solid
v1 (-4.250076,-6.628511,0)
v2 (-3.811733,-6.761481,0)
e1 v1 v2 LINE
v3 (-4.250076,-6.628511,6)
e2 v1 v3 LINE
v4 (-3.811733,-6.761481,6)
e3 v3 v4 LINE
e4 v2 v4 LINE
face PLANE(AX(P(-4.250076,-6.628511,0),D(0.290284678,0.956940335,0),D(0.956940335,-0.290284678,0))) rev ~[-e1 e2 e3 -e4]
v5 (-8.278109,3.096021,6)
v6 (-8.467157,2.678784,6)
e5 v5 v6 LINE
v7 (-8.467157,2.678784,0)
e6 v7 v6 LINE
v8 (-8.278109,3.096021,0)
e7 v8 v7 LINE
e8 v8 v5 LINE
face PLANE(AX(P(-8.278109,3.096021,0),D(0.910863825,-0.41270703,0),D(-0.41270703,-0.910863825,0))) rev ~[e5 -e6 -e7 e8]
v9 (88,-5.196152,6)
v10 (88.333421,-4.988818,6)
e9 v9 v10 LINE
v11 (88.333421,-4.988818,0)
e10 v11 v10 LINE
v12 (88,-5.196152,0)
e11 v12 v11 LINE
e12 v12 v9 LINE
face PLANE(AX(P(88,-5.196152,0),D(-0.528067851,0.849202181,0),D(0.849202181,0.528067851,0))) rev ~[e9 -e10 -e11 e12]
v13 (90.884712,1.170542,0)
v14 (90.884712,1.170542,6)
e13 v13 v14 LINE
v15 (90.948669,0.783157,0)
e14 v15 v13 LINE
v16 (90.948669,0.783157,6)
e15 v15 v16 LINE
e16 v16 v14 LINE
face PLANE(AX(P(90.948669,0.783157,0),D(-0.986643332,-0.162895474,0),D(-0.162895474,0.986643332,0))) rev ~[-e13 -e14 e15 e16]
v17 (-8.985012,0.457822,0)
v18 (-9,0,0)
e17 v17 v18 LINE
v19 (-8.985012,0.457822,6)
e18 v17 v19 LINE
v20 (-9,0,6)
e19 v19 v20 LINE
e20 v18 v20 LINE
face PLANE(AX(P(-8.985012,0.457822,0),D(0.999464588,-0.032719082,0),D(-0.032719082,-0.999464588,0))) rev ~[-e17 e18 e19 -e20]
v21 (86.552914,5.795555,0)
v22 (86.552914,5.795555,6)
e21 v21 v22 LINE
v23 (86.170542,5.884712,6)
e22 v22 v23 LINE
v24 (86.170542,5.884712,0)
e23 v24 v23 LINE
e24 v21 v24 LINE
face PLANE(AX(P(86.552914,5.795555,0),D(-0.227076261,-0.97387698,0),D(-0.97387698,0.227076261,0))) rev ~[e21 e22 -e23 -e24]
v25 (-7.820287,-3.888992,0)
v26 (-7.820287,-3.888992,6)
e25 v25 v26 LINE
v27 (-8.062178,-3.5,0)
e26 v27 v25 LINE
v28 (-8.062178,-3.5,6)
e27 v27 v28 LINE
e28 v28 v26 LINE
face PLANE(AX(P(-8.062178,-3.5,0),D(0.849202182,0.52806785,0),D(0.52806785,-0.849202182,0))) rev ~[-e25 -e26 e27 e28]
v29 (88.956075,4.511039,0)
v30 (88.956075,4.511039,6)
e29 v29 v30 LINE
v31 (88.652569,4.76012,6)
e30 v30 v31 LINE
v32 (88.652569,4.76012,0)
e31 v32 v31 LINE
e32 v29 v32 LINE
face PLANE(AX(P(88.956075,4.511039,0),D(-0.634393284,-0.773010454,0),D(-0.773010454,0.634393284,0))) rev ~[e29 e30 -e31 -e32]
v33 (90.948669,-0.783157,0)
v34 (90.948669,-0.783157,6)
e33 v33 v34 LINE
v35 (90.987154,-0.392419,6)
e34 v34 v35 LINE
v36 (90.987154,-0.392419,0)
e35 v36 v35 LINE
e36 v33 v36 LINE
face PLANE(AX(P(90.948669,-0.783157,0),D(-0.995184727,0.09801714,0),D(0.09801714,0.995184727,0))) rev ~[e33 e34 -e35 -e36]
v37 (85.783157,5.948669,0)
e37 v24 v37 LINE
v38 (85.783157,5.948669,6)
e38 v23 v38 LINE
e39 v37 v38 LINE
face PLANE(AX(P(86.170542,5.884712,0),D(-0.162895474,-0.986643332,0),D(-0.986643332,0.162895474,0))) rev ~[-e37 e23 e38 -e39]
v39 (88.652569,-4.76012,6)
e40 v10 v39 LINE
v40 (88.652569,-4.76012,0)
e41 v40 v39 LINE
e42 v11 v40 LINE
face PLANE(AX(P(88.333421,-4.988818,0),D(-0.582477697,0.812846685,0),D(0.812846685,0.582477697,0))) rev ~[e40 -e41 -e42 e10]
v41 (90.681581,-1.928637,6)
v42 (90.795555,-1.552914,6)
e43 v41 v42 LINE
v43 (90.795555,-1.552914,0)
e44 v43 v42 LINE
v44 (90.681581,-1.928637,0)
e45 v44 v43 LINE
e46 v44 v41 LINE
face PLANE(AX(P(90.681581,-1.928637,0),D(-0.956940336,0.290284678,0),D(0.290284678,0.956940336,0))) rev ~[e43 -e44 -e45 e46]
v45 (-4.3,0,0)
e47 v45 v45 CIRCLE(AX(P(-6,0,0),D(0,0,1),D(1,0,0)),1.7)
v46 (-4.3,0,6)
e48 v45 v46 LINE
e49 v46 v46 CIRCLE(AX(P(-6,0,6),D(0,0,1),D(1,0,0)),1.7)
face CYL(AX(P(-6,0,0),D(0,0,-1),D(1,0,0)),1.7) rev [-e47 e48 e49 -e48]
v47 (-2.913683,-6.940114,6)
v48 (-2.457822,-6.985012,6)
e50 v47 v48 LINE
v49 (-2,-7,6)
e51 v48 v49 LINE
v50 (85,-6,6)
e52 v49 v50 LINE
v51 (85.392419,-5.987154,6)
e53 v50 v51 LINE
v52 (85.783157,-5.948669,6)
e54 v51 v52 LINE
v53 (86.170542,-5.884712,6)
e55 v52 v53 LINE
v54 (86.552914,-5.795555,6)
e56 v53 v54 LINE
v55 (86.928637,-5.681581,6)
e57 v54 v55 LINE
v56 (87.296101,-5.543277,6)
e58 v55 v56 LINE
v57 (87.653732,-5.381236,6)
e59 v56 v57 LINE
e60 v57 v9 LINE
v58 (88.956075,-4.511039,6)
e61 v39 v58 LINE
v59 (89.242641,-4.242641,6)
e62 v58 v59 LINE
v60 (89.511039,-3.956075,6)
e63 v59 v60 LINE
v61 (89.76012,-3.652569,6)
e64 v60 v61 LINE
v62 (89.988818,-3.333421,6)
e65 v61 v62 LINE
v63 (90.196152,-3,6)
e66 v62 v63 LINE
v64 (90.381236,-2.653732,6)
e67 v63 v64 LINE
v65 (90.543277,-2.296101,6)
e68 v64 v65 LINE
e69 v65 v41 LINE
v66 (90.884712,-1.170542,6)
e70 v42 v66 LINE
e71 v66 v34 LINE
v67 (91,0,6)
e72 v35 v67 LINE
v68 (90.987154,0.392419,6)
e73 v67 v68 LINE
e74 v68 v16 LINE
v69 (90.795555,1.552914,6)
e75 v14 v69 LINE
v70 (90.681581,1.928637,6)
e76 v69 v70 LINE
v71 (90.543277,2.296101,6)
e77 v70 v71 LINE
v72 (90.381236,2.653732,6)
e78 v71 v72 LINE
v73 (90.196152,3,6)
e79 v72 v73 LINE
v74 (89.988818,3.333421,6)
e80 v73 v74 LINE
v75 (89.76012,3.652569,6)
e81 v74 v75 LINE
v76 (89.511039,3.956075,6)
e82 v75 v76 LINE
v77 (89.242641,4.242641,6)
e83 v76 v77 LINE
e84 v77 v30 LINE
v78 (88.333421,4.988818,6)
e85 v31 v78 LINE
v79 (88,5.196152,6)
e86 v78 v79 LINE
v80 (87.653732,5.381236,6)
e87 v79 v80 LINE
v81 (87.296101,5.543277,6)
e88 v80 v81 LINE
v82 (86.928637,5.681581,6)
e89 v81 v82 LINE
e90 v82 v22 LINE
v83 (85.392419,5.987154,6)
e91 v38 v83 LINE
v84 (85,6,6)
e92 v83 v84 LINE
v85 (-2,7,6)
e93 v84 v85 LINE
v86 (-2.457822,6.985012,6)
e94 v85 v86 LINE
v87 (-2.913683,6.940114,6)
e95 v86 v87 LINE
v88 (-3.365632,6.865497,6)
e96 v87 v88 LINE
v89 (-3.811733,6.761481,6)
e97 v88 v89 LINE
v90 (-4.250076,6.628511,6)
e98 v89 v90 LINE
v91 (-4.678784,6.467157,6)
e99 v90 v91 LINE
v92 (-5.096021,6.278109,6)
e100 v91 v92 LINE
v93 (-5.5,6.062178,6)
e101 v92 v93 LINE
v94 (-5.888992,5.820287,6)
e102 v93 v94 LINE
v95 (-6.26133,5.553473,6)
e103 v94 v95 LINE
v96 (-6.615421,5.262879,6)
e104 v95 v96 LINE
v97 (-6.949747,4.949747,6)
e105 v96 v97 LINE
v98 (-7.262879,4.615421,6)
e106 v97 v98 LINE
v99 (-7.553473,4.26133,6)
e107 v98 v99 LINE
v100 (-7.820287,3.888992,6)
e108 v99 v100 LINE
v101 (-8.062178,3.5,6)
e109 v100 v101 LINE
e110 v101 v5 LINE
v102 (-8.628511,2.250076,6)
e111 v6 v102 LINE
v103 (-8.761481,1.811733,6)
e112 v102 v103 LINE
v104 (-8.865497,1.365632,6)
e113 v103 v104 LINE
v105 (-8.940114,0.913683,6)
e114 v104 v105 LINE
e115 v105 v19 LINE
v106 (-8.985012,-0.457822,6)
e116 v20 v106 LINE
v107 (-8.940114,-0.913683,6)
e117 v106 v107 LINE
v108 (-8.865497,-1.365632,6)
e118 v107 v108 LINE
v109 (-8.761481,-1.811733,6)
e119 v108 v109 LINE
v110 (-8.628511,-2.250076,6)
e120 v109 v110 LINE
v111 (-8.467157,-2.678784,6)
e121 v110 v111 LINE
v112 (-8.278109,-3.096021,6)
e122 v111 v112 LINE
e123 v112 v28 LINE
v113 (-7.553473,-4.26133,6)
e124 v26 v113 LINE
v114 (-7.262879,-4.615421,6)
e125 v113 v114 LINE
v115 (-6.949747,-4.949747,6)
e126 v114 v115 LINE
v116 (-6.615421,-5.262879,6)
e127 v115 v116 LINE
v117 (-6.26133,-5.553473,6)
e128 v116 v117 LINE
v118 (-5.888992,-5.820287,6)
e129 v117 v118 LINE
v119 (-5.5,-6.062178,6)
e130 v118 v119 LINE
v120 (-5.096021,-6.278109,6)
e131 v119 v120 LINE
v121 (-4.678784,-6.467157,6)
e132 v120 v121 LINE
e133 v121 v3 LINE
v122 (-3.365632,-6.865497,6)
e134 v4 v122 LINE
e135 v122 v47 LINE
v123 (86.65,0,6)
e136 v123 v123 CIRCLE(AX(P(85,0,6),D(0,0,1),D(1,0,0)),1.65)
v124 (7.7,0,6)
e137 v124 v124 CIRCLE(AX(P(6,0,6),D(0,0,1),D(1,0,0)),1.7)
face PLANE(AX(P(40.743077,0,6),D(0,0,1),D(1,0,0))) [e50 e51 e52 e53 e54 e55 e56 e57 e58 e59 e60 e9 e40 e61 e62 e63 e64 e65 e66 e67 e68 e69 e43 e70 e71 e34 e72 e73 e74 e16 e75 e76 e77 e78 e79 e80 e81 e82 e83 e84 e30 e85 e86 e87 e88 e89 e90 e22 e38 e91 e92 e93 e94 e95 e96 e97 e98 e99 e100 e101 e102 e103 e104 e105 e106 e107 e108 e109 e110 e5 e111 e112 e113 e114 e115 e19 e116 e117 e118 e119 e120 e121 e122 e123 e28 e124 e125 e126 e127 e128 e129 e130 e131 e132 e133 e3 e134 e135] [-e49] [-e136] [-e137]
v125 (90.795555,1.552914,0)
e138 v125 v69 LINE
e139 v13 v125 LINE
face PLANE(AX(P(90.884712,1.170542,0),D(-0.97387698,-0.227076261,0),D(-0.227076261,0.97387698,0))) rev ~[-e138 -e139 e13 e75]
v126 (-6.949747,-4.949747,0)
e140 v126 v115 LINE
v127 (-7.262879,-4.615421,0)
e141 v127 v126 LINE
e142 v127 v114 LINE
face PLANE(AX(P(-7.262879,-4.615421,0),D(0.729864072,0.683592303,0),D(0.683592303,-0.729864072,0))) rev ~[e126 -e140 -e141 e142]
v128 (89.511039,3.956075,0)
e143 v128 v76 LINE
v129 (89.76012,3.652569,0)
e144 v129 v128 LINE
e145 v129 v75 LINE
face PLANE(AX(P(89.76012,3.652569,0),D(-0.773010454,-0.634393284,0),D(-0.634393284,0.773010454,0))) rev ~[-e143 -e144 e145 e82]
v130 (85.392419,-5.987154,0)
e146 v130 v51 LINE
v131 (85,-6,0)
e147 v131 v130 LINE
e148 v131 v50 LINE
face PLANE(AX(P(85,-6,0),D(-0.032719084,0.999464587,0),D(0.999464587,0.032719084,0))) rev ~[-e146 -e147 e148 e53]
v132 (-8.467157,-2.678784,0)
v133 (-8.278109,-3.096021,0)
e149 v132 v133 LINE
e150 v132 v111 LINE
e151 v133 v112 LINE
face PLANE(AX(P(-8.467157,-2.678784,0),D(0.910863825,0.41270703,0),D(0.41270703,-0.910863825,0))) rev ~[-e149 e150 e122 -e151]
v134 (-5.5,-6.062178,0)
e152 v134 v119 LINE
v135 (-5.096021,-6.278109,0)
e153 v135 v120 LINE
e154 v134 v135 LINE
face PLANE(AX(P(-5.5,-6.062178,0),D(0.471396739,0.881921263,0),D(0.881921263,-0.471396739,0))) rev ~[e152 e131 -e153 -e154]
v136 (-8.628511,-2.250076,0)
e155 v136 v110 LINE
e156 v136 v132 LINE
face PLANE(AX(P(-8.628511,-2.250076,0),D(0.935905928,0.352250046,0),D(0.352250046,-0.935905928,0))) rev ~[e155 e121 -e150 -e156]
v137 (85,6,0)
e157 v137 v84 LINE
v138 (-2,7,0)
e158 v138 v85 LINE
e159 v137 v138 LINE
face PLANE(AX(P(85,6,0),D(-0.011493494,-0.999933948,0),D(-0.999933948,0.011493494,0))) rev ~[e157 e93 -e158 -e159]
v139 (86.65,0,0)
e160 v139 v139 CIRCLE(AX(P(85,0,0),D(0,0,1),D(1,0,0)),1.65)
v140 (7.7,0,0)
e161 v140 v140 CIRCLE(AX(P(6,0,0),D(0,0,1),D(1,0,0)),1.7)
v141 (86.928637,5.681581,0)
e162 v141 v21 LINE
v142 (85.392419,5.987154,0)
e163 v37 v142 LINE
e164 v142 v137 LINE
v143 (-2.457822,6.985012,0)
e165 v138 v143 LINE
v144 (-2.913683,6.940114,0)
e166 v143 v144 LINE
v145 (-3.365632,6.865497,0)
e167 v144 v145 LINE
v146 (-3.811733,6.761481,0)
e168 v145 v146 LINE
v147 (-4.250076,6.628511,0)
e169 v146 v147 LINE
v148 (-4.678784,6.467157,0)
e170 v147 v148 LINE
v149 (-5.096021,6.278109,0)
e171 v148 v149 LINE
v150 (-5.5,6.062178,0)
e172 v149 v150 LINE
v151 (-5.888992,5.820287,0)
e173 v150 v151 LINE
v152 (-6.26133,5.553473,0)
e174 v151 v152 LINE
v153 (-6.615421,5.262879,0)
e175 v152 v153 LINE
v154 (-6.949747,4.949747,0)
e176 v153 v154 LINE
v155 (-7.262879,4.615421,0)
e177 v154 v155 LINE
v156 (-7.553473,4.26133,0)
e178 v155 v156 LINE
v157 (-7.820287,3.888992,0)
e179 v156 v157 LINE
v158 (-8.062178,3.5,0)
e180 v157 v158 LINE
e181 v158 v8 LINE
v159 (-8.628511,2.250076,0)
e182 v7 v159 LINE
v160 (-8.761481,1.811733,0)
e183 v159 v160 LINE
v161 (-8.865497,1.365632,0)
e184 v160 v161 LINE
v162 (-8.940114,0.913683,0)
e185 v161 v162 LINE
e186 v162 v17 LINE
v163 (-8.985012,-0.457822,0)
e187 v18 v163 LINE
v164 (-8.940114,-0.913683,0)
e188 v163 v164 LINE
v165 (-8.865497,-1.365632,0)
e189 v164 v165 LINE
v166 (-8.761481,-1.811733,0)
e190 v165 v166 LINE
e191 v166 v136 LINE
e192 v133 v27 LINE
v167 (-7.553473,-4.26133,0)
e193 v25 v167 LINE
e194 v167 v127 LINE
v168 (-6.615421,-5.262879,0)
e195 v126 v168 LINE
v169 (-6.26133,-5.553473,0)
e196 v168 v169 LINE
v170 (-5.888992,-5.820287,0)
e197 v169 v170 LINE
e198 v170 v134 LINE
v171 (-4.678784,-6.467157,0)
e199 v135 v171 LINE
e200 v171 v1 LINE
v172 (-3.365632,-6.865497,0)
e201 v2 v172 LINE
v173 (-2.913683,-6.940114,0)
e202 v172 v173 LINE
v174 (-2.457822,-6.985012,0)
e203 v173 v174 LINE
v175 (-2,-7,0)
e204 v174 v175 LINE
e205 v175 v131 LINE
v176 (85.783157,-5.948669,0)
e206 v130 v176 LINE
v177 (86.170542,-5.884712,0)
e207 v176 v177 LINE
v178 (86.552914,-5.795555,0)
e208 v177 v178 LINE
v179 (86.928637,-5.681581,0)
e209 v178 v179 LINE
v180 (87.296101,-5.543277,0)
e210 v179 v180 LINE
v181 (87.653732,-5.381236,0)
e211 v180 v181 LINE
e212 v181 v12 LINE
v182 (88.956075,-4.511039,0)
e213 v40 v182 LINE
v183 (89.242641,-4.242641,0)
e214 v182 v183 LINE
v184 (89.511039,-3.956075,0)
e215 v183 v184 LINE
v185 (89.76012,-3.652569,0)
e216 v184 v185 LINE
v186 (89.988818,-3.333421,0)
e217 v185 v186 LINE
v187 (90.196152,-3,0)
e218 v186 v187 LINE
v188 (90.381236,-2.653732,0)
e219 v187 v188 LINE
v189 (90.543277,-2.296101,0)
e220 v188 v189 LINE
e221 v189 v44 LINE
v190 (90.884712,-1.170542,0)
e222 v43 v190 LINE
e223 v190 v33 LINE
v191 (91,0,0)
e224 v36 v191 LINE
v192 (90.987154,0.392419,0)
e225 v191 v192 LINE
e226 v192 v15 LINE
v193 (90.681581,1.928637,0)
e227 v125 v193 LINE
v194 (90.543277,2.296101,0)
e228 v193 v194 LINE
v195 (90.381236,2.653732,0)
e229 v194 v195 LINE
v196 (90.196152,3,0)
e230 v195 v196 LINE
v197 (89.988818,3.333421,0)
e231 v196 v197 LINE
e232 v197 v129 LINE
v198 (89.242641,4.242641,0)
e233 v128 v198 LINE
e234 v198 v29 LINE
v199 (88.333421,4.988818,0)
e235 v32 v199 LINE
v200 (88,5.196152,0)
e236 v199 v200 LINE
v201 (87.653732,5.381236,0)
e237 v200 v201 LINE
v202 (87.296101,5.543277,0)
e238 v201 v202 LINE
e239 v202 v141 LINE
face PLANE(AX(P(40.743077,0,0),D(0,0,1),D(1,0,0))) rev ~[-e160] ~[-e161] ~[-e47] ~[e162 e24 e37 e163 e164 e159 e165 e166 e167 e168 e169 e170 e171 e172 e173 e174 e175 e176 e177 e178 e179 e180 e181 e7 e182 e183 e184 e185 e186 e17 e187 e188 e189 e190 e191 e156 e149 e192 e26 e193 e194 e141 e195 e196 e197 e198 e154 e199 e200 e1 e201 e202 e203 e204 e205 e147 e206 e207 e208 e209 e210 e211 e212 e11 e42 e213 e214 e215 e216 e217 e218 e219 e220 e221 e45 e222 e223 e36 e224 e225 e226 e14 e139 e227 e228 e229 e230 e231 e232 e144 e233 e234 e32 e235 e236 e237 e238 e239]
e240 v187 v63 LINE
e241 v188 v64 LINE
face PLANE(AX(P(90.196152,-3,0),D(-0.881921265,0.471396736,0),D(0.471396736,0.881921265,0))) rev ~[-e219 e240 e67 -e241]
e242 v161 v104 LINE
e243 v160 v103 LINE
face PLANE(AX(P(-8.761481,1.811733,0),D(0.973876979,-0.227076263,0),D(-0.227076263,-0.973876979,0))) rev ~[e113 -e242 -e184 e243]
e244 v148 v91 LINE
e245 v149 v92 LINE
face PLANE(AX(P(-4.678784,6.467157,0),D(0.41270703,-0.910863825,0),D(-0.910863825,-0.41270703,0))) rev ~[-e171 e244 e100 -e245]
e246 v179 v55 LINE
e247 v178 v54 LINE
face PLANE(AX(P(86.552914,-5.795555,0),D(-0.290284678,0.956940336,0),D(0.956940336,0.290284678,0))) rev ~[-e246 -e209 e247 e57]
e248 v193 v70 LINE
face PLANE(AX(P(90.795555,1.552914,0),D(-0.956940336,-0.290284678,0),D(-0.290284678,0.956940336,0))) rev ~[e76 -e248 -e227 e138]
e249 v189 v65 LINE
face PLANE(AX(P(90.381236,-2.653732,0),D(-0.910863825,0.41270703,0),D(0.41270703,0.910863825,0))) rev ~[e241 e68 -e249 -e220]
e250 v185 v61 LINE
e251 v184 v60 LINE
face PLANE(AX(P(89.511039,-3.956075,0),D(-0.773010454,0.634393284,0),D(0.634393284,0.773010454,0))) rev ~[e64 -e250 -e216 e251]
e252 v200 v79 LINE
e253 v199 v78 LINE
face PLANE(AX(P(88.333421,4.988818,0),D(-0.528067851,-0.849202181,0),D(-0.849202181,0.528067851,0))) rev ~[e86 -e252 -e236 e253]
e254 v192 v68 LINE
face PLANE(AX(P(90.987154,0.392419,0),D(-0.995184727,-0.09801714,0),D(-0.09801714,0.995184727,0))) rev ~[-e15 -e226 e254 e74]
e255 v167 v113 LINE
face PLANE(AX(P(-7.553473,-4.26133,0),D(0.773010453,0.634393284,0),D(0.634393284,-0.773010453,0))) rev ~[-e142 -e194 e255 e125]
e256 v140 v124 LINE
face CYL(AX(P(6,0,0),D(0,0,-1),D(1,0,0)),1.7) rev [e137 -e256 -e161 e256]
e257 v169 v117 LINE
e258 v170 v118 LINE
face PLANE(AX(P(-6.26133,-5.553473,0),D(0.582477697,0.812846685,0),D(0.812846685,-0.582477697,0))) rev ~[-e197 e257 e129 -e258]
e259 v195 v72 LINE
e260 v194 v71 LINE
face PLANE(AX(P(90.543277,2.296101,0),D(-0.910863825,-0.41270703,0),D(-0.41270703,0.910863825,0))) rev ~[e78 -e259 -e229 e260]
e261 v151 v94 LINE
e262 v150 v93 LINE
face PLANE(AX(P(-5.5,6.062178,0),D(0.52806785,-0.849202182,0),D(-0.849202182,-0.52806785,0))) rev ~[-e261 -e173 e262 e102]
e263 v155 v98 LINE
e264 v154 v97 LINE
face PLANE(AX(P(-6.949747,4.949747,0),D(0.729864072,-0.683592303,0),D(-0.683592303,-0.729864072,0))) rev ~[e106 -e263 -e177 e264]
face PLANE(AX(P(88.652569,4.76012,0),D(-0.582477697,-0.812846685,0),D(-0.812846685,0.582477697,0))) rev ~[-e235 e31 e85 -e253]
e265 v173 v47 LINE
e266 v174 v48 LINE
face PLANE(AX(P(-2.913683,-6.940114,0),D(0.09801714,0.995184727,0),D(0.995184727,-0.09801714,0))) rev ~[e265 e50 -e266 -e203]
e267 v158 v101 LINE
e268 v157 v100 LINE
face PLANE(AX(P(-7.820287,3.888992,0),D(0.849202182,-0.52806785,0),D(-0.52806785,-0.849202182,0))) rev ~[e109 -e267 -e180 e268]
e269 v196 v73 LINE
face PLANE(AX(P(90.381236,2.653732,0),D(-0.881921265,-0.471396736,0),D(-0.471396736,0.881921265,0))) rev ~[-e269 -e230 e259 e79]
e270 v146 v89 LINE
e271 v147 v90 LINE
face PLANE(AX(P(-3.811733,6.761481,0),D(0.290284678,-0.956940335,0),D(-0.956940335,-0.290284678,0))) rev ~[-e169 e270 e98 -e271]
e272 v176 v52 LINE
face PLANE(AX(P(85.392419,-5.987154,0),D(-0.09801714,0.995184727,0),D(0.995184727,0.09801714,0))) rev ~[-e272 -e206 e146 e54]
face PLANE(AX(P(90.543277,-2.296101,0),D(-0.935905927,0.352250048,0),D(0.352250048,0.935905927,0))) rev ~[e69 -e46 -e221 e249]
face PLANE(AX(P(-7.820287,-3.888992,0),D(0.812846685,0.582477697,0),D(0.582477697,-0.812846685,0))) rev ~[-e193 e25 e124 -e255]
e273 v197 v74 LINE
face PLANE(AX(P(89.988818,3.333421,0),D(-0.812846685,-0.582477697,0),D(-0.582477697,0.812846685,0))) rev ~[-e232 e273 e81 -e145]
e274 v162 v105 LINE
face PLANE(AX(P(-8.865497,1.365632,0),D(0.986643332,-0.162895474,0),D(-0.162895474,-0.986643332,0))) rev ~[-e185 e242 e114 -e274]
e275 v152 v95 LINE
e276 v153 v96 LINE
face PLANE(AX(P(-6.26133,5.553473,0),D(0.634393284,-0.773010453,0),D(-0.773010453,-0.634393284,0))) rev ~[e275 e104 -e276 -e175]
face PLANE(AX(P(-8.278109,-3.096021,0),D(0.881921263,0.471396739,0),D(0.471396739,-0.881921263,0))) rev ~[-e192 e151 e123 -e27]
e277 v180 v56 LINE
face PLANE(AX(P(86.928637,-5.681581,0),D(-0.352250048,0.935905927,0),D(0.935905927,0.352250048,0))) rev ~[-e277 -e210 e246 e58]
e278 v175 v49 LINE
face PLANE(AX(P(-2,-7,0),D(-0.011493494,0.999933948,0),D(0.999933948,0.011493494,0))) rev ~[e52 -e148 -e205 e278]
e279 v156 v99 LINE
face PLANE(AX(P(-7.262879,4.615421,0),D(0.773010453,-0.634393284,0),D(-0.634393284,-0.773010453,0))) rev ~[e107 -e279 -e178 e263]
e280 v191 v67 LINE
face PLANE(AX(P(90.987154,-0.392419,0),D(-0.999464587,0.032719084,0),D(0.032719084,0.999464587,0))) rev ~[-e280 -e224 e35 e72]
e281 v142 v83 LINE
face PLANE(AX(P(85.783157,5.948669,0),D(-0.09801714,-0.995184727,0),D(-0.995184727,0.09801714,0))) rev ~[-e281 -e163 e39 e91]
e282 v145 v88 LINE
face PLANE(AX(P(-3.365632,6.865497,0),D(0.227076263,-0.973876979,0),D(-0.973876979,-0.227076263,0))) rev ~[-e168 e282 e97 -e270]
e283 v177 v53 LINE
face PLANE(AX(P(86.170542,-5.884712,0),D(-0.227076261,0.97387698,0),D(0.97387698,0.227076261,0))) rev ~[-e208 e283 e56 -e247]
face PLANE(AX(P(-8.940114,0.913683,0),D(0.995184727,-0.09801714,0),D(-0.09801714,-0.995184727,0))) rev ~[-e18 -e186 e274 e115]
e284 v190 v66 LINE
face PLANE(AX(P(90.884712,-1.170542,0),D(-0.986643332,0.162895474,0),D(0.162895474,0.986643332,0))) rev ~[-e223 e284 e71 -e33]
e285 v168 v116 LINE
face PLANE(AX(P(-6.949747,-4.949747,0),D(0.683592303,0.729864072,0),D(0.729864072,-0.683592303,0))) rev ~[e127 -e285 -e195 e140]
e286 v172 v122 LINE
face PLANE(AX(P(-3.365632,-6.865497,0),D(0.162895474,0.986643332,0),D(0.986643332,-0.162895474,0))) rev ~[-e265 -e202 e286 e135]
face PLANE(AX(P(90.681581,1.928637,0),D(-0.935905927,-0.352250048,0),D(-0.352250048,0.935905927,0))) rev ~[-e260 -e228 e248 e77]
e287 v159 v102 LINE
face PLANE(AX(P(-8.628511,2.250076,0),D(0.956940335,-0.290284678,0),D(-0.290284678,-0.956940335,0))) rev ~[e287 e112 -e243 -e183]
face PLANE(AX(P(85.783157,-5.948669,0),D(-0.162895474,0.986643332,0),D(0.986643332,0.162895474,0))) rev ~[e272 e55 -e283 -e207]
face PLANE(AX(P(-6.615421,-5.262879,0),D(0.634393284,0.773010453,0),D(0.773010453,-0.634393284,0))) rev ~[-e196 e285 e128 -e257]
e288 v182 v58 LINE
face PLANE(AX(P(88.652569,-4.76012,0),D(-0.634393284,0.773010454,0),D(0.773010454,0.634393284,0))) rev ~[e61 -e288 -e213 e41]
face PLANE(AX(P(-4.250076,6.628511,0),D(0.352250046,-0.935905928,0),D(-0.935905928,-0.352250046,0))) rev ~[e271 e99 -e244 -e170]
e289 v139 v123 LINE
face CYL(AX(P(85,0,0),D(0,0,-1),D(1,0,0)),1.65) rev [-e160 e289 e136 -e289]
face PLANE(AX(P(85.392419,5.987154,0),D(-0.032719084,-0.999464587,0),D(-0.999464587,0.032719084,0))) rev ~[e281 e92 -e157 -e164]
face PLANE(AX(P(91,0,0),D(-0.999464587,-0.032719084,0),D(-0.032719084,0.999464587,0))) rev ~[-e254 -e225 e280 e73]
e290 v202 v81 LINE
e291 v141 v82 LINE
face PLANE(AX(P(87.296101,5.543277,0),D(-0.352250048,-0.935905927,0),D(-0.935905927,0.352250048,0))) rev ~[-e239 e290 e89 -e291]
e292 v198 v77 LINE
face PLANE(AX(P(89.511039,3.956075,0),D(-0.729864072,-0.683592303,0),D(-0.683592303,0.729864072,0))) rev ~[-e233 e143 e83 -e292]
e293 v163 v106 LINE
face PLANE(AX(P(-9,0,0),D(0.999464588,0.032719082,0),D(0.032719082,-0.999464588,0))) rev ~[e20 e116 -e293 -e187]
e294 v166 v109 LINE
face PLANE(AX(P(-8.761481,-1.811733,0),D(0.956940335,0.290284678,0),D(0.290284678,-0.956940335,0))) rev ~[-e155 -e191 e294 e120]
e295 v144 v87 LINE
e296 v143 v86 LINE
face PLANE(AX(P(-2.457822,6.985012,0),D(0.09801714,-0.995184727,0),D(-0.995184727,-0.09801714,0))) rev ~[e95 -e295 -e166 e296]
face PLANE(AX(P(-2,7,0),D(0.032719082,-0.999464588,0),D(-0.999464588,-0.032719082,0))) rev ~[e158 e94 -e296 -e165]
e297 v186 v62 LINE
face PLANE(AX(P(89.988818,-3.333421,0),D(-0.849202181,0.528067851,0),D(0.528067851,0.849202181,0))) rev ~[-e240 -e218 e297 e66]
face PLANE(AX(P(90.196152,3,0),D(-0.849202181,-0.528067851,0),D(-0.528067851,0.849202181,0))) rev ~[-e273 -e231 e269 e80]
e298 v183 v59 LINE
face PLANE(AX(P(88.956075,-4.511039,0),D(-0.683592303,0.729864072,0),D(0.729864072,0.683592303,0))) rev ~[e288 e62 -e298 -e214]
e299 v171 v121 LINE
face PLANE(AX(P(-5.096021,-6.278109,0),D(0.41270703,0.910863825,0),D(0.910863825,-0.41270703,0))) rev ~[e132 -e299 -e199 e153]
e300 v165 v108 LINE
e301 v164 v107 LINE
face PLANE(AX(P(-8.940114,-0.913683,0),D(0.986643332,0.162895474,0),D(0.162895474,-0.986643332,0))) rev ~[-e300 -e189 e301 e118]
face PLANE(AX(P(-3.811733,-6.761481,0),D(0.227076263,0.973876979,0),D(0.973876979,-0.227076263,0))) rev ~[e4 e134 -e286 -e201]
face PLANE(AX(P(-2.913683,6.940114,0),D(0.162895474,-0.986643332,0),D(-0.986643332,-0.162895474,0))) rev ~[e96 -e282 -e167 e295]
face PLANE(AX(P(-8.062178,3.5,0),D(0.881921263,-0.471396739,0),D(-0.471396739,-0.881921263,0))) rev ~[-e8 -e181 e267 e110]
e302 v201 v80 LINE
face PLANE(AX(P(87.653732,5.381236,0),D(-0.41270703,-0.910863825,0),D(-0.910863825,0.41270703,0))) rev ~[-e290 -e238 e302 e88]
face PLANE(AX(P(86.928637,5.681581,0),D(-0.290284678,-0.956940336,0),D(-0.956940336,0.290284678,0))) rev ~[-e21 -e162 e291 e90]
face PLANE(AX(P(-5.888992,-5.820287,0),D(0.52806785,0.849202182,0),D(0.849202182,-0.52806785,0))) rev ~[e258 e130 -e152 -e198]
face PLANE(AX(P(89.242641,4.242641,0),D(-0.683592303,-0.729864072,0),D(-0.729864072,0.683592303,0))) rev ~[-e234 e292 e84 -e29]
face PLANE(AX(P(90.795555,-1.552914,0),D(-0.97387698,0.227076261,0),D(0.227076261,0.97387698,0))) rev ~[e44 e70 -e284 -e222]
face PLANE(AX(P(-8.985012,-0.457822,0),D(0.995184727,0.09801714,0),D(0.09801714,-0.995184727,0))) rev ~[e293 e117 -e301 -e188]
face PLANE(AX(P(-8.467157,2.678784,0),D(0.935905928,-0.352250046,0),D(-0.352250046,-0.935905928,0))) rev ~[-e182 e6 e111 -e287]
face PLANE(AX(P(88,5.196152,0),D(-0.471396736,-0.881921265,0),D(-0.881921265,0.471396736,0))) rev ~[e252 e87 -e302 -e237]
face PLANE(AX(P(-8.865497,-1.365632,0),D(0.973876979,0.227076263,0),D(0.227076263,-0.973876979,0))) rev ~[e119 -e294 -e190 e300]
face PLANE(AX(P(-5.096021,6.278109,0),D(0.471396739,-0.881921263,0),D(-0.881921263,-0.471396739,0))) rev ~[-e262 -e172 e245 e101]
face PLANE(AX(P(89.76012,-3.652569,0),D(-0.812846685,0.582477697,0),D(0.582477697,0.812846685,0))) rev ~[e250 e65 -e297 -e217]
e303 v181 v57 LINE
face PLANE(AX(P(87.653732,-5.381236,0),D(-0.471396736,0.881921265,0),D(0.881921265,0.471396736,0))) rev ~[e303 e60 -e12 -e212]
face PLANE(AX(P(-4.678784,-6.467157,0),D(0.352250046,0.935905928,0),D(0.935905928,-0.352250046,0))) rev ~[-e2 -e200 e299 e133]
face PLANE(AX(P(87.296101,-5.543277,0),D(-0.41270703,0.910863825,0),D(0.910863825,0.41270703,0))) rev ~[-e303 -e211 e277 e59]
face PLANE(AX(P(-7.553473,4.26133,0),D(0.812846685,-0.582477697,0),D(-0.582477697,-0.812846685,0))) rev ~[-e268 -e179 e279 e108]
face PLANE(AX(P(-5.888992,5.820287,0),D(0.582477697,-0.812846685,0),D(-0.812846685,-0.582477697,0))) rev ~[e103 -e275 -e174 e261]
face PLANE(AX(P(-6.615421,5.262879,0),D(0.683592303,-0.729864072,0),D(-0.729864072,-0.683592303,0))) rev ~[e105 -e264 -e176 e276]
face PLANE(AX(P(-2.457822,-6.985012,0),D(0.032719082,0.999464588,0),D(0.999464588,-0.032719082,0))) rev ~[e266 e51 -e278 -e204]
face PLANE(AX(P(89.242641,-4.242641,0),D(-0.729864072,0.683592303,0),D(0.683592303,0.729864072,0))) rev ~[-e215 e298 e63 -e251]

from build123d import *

# Parameters (mm, degrees)
PLATE_DEPTH       = 6
SKETCH2_R         = 1.7
HUB_SCREWS_DEPTH  = 6
SKETCH3_R         = 1.65
KNOB_THREAD_DEPTH = 6


with BuildPart() as part:
    # Sketch1 → Plate (new body)
    with BuildSketch(Plane.XY):
        Polygon((-2, 7), (-2.457821905, 6.985012463), (-2.913683346, 6.94011403), (-3.365632254, 6.865496963), (-3.811733316, 6.761480784), (-4.250076257, 6.628510906), (-4.678784027, 6.467156728), (-5.096020832, 6.278109191), (-5.5, 6.062177826), (-5.888991631, 5.820287286), (-6.261330003, 5.553473382), (-6.615420706, 5.262878652), (-6.949747468, 4.949747468), (-7.262878652, 4.615420706), (-7.553473382, 4.261330003), (-7.820287286, 3.888991631), (-8.062177826, 3.5), (-8.278109191, 3.096020832), (-8.467156728, 2.678784027), (-8.628510906, 2.250076257), (-8.761480784, 1.811733316), (-8.865496963, 1.365632254), (-8.94011403, 0.913683346), (-8.985012463, 0.457821905), (-9, 0), (-8.985012463, -0.457821905), (-8.94011403, -0.913683346), (-8.865496963, -1.365632254), (-8.761480784, -1.811733316), (-8.628510906, -2.250076257), (-8.467156728, -2.678784027), (-8.278109191, -3.096020832), (-8.062177826, -3.5), (-7.820287286, -3.888991631), (-7.553473382, -4.261330003), (-7.262878652, -4.615420706), (-6.949747468, -4.949747468), (-6.615420706, -5.262878652), (-6.261330003, -5.553473382), (-5.888991631, -5.820287286), (-5.5, -6.062177826), (-5.096020832, -6.278109191), (-4.678784027, -6.467156728), (-4.250076257, -6.628510906), (-3.811733316, -6.761480784), (-3.365632254, -6.865496963), (-2.913683346, -6.94011403), (-2.457821905, -6.985012463), (-2, -7), (85, -6), (85.392418775, -5.987153539), (85.783157153, -5.948669168), (86.170541932, -5.884711682), (86.552914271, -5.795554958), (86.928636792, -5.681580777), (87.296100594, -5.543277195), (87.653732141, -5.381236449), (88, -5.196152423), (88.333421398, -4.988817674), (88.652568574, -4.760120042), (88.956074891, -4.511038845), (89.242640687, -4.242640687), (89.511038845, -3.956074891), (89.760120042, -3.652568574), (89.988817674, -3.333421398), (90.196152423, -3), (90.381236449, -2.653732141), (90.543277195, -2.296100594), (90.681580777, -1.928636792), (90.795554958, -1.552914271), (90.884711682, -1.170541932), (90.948669168, -0.783157153), (90.987153539, -0.392418775), (91, 0), (90.987153539, 0.392418775), (90.948669168, 0.783157153), (90.884711682, 1.170541932), (90.795554958, 1.552914271), (90.681580777, 1.928636792), (90.543277195, 2.296100594), (90.381236449, 2.653732141), (90.196152423, 3), (89.988817674, 3.333421398), (89.760120042, 3.652568574), (89.511038845, 3.956074891), (89.242640687, 4.242640687), (88.956074891, 4.511038845), (88.652568574, 4.760120042), (88.333421398, 4.988817674), (88, 5.196152423), (87.653732141, 5.381236449), (87.296100594, 5.543277195), (86.928636792, 5.681580777), (86.552914271, 5.795554958), (86.170541932, 5.884711682), (85.783157153, 5.948669168), (85.392418775, 5.987153539), (85, 6), align=None)
    extrude(amount=PLATE_DEPTH)

    # Sketch2 → Hub_screws (cut)
    with BuildSketch(Plane.XY):
        with Locations((-6, 0)):
            Circle(SKETCH2_R)
        with Locations((6, 0)):
            Circle(SKETCH2_R)
    extrude(amount=HUB_SCREWS_DEPTH, mode=Mode.SUBTRACT)

    # Sketch3 → Knob_thread (cut)
    with BuildSketch(Plane.XY):
        with Locations((85, 0)):
            Circle(SKETCH3_R)
    extrude(amount=KNOB_THREAD_DEPTH, mode=Mode.SUBTRACT)


solid = part.part
